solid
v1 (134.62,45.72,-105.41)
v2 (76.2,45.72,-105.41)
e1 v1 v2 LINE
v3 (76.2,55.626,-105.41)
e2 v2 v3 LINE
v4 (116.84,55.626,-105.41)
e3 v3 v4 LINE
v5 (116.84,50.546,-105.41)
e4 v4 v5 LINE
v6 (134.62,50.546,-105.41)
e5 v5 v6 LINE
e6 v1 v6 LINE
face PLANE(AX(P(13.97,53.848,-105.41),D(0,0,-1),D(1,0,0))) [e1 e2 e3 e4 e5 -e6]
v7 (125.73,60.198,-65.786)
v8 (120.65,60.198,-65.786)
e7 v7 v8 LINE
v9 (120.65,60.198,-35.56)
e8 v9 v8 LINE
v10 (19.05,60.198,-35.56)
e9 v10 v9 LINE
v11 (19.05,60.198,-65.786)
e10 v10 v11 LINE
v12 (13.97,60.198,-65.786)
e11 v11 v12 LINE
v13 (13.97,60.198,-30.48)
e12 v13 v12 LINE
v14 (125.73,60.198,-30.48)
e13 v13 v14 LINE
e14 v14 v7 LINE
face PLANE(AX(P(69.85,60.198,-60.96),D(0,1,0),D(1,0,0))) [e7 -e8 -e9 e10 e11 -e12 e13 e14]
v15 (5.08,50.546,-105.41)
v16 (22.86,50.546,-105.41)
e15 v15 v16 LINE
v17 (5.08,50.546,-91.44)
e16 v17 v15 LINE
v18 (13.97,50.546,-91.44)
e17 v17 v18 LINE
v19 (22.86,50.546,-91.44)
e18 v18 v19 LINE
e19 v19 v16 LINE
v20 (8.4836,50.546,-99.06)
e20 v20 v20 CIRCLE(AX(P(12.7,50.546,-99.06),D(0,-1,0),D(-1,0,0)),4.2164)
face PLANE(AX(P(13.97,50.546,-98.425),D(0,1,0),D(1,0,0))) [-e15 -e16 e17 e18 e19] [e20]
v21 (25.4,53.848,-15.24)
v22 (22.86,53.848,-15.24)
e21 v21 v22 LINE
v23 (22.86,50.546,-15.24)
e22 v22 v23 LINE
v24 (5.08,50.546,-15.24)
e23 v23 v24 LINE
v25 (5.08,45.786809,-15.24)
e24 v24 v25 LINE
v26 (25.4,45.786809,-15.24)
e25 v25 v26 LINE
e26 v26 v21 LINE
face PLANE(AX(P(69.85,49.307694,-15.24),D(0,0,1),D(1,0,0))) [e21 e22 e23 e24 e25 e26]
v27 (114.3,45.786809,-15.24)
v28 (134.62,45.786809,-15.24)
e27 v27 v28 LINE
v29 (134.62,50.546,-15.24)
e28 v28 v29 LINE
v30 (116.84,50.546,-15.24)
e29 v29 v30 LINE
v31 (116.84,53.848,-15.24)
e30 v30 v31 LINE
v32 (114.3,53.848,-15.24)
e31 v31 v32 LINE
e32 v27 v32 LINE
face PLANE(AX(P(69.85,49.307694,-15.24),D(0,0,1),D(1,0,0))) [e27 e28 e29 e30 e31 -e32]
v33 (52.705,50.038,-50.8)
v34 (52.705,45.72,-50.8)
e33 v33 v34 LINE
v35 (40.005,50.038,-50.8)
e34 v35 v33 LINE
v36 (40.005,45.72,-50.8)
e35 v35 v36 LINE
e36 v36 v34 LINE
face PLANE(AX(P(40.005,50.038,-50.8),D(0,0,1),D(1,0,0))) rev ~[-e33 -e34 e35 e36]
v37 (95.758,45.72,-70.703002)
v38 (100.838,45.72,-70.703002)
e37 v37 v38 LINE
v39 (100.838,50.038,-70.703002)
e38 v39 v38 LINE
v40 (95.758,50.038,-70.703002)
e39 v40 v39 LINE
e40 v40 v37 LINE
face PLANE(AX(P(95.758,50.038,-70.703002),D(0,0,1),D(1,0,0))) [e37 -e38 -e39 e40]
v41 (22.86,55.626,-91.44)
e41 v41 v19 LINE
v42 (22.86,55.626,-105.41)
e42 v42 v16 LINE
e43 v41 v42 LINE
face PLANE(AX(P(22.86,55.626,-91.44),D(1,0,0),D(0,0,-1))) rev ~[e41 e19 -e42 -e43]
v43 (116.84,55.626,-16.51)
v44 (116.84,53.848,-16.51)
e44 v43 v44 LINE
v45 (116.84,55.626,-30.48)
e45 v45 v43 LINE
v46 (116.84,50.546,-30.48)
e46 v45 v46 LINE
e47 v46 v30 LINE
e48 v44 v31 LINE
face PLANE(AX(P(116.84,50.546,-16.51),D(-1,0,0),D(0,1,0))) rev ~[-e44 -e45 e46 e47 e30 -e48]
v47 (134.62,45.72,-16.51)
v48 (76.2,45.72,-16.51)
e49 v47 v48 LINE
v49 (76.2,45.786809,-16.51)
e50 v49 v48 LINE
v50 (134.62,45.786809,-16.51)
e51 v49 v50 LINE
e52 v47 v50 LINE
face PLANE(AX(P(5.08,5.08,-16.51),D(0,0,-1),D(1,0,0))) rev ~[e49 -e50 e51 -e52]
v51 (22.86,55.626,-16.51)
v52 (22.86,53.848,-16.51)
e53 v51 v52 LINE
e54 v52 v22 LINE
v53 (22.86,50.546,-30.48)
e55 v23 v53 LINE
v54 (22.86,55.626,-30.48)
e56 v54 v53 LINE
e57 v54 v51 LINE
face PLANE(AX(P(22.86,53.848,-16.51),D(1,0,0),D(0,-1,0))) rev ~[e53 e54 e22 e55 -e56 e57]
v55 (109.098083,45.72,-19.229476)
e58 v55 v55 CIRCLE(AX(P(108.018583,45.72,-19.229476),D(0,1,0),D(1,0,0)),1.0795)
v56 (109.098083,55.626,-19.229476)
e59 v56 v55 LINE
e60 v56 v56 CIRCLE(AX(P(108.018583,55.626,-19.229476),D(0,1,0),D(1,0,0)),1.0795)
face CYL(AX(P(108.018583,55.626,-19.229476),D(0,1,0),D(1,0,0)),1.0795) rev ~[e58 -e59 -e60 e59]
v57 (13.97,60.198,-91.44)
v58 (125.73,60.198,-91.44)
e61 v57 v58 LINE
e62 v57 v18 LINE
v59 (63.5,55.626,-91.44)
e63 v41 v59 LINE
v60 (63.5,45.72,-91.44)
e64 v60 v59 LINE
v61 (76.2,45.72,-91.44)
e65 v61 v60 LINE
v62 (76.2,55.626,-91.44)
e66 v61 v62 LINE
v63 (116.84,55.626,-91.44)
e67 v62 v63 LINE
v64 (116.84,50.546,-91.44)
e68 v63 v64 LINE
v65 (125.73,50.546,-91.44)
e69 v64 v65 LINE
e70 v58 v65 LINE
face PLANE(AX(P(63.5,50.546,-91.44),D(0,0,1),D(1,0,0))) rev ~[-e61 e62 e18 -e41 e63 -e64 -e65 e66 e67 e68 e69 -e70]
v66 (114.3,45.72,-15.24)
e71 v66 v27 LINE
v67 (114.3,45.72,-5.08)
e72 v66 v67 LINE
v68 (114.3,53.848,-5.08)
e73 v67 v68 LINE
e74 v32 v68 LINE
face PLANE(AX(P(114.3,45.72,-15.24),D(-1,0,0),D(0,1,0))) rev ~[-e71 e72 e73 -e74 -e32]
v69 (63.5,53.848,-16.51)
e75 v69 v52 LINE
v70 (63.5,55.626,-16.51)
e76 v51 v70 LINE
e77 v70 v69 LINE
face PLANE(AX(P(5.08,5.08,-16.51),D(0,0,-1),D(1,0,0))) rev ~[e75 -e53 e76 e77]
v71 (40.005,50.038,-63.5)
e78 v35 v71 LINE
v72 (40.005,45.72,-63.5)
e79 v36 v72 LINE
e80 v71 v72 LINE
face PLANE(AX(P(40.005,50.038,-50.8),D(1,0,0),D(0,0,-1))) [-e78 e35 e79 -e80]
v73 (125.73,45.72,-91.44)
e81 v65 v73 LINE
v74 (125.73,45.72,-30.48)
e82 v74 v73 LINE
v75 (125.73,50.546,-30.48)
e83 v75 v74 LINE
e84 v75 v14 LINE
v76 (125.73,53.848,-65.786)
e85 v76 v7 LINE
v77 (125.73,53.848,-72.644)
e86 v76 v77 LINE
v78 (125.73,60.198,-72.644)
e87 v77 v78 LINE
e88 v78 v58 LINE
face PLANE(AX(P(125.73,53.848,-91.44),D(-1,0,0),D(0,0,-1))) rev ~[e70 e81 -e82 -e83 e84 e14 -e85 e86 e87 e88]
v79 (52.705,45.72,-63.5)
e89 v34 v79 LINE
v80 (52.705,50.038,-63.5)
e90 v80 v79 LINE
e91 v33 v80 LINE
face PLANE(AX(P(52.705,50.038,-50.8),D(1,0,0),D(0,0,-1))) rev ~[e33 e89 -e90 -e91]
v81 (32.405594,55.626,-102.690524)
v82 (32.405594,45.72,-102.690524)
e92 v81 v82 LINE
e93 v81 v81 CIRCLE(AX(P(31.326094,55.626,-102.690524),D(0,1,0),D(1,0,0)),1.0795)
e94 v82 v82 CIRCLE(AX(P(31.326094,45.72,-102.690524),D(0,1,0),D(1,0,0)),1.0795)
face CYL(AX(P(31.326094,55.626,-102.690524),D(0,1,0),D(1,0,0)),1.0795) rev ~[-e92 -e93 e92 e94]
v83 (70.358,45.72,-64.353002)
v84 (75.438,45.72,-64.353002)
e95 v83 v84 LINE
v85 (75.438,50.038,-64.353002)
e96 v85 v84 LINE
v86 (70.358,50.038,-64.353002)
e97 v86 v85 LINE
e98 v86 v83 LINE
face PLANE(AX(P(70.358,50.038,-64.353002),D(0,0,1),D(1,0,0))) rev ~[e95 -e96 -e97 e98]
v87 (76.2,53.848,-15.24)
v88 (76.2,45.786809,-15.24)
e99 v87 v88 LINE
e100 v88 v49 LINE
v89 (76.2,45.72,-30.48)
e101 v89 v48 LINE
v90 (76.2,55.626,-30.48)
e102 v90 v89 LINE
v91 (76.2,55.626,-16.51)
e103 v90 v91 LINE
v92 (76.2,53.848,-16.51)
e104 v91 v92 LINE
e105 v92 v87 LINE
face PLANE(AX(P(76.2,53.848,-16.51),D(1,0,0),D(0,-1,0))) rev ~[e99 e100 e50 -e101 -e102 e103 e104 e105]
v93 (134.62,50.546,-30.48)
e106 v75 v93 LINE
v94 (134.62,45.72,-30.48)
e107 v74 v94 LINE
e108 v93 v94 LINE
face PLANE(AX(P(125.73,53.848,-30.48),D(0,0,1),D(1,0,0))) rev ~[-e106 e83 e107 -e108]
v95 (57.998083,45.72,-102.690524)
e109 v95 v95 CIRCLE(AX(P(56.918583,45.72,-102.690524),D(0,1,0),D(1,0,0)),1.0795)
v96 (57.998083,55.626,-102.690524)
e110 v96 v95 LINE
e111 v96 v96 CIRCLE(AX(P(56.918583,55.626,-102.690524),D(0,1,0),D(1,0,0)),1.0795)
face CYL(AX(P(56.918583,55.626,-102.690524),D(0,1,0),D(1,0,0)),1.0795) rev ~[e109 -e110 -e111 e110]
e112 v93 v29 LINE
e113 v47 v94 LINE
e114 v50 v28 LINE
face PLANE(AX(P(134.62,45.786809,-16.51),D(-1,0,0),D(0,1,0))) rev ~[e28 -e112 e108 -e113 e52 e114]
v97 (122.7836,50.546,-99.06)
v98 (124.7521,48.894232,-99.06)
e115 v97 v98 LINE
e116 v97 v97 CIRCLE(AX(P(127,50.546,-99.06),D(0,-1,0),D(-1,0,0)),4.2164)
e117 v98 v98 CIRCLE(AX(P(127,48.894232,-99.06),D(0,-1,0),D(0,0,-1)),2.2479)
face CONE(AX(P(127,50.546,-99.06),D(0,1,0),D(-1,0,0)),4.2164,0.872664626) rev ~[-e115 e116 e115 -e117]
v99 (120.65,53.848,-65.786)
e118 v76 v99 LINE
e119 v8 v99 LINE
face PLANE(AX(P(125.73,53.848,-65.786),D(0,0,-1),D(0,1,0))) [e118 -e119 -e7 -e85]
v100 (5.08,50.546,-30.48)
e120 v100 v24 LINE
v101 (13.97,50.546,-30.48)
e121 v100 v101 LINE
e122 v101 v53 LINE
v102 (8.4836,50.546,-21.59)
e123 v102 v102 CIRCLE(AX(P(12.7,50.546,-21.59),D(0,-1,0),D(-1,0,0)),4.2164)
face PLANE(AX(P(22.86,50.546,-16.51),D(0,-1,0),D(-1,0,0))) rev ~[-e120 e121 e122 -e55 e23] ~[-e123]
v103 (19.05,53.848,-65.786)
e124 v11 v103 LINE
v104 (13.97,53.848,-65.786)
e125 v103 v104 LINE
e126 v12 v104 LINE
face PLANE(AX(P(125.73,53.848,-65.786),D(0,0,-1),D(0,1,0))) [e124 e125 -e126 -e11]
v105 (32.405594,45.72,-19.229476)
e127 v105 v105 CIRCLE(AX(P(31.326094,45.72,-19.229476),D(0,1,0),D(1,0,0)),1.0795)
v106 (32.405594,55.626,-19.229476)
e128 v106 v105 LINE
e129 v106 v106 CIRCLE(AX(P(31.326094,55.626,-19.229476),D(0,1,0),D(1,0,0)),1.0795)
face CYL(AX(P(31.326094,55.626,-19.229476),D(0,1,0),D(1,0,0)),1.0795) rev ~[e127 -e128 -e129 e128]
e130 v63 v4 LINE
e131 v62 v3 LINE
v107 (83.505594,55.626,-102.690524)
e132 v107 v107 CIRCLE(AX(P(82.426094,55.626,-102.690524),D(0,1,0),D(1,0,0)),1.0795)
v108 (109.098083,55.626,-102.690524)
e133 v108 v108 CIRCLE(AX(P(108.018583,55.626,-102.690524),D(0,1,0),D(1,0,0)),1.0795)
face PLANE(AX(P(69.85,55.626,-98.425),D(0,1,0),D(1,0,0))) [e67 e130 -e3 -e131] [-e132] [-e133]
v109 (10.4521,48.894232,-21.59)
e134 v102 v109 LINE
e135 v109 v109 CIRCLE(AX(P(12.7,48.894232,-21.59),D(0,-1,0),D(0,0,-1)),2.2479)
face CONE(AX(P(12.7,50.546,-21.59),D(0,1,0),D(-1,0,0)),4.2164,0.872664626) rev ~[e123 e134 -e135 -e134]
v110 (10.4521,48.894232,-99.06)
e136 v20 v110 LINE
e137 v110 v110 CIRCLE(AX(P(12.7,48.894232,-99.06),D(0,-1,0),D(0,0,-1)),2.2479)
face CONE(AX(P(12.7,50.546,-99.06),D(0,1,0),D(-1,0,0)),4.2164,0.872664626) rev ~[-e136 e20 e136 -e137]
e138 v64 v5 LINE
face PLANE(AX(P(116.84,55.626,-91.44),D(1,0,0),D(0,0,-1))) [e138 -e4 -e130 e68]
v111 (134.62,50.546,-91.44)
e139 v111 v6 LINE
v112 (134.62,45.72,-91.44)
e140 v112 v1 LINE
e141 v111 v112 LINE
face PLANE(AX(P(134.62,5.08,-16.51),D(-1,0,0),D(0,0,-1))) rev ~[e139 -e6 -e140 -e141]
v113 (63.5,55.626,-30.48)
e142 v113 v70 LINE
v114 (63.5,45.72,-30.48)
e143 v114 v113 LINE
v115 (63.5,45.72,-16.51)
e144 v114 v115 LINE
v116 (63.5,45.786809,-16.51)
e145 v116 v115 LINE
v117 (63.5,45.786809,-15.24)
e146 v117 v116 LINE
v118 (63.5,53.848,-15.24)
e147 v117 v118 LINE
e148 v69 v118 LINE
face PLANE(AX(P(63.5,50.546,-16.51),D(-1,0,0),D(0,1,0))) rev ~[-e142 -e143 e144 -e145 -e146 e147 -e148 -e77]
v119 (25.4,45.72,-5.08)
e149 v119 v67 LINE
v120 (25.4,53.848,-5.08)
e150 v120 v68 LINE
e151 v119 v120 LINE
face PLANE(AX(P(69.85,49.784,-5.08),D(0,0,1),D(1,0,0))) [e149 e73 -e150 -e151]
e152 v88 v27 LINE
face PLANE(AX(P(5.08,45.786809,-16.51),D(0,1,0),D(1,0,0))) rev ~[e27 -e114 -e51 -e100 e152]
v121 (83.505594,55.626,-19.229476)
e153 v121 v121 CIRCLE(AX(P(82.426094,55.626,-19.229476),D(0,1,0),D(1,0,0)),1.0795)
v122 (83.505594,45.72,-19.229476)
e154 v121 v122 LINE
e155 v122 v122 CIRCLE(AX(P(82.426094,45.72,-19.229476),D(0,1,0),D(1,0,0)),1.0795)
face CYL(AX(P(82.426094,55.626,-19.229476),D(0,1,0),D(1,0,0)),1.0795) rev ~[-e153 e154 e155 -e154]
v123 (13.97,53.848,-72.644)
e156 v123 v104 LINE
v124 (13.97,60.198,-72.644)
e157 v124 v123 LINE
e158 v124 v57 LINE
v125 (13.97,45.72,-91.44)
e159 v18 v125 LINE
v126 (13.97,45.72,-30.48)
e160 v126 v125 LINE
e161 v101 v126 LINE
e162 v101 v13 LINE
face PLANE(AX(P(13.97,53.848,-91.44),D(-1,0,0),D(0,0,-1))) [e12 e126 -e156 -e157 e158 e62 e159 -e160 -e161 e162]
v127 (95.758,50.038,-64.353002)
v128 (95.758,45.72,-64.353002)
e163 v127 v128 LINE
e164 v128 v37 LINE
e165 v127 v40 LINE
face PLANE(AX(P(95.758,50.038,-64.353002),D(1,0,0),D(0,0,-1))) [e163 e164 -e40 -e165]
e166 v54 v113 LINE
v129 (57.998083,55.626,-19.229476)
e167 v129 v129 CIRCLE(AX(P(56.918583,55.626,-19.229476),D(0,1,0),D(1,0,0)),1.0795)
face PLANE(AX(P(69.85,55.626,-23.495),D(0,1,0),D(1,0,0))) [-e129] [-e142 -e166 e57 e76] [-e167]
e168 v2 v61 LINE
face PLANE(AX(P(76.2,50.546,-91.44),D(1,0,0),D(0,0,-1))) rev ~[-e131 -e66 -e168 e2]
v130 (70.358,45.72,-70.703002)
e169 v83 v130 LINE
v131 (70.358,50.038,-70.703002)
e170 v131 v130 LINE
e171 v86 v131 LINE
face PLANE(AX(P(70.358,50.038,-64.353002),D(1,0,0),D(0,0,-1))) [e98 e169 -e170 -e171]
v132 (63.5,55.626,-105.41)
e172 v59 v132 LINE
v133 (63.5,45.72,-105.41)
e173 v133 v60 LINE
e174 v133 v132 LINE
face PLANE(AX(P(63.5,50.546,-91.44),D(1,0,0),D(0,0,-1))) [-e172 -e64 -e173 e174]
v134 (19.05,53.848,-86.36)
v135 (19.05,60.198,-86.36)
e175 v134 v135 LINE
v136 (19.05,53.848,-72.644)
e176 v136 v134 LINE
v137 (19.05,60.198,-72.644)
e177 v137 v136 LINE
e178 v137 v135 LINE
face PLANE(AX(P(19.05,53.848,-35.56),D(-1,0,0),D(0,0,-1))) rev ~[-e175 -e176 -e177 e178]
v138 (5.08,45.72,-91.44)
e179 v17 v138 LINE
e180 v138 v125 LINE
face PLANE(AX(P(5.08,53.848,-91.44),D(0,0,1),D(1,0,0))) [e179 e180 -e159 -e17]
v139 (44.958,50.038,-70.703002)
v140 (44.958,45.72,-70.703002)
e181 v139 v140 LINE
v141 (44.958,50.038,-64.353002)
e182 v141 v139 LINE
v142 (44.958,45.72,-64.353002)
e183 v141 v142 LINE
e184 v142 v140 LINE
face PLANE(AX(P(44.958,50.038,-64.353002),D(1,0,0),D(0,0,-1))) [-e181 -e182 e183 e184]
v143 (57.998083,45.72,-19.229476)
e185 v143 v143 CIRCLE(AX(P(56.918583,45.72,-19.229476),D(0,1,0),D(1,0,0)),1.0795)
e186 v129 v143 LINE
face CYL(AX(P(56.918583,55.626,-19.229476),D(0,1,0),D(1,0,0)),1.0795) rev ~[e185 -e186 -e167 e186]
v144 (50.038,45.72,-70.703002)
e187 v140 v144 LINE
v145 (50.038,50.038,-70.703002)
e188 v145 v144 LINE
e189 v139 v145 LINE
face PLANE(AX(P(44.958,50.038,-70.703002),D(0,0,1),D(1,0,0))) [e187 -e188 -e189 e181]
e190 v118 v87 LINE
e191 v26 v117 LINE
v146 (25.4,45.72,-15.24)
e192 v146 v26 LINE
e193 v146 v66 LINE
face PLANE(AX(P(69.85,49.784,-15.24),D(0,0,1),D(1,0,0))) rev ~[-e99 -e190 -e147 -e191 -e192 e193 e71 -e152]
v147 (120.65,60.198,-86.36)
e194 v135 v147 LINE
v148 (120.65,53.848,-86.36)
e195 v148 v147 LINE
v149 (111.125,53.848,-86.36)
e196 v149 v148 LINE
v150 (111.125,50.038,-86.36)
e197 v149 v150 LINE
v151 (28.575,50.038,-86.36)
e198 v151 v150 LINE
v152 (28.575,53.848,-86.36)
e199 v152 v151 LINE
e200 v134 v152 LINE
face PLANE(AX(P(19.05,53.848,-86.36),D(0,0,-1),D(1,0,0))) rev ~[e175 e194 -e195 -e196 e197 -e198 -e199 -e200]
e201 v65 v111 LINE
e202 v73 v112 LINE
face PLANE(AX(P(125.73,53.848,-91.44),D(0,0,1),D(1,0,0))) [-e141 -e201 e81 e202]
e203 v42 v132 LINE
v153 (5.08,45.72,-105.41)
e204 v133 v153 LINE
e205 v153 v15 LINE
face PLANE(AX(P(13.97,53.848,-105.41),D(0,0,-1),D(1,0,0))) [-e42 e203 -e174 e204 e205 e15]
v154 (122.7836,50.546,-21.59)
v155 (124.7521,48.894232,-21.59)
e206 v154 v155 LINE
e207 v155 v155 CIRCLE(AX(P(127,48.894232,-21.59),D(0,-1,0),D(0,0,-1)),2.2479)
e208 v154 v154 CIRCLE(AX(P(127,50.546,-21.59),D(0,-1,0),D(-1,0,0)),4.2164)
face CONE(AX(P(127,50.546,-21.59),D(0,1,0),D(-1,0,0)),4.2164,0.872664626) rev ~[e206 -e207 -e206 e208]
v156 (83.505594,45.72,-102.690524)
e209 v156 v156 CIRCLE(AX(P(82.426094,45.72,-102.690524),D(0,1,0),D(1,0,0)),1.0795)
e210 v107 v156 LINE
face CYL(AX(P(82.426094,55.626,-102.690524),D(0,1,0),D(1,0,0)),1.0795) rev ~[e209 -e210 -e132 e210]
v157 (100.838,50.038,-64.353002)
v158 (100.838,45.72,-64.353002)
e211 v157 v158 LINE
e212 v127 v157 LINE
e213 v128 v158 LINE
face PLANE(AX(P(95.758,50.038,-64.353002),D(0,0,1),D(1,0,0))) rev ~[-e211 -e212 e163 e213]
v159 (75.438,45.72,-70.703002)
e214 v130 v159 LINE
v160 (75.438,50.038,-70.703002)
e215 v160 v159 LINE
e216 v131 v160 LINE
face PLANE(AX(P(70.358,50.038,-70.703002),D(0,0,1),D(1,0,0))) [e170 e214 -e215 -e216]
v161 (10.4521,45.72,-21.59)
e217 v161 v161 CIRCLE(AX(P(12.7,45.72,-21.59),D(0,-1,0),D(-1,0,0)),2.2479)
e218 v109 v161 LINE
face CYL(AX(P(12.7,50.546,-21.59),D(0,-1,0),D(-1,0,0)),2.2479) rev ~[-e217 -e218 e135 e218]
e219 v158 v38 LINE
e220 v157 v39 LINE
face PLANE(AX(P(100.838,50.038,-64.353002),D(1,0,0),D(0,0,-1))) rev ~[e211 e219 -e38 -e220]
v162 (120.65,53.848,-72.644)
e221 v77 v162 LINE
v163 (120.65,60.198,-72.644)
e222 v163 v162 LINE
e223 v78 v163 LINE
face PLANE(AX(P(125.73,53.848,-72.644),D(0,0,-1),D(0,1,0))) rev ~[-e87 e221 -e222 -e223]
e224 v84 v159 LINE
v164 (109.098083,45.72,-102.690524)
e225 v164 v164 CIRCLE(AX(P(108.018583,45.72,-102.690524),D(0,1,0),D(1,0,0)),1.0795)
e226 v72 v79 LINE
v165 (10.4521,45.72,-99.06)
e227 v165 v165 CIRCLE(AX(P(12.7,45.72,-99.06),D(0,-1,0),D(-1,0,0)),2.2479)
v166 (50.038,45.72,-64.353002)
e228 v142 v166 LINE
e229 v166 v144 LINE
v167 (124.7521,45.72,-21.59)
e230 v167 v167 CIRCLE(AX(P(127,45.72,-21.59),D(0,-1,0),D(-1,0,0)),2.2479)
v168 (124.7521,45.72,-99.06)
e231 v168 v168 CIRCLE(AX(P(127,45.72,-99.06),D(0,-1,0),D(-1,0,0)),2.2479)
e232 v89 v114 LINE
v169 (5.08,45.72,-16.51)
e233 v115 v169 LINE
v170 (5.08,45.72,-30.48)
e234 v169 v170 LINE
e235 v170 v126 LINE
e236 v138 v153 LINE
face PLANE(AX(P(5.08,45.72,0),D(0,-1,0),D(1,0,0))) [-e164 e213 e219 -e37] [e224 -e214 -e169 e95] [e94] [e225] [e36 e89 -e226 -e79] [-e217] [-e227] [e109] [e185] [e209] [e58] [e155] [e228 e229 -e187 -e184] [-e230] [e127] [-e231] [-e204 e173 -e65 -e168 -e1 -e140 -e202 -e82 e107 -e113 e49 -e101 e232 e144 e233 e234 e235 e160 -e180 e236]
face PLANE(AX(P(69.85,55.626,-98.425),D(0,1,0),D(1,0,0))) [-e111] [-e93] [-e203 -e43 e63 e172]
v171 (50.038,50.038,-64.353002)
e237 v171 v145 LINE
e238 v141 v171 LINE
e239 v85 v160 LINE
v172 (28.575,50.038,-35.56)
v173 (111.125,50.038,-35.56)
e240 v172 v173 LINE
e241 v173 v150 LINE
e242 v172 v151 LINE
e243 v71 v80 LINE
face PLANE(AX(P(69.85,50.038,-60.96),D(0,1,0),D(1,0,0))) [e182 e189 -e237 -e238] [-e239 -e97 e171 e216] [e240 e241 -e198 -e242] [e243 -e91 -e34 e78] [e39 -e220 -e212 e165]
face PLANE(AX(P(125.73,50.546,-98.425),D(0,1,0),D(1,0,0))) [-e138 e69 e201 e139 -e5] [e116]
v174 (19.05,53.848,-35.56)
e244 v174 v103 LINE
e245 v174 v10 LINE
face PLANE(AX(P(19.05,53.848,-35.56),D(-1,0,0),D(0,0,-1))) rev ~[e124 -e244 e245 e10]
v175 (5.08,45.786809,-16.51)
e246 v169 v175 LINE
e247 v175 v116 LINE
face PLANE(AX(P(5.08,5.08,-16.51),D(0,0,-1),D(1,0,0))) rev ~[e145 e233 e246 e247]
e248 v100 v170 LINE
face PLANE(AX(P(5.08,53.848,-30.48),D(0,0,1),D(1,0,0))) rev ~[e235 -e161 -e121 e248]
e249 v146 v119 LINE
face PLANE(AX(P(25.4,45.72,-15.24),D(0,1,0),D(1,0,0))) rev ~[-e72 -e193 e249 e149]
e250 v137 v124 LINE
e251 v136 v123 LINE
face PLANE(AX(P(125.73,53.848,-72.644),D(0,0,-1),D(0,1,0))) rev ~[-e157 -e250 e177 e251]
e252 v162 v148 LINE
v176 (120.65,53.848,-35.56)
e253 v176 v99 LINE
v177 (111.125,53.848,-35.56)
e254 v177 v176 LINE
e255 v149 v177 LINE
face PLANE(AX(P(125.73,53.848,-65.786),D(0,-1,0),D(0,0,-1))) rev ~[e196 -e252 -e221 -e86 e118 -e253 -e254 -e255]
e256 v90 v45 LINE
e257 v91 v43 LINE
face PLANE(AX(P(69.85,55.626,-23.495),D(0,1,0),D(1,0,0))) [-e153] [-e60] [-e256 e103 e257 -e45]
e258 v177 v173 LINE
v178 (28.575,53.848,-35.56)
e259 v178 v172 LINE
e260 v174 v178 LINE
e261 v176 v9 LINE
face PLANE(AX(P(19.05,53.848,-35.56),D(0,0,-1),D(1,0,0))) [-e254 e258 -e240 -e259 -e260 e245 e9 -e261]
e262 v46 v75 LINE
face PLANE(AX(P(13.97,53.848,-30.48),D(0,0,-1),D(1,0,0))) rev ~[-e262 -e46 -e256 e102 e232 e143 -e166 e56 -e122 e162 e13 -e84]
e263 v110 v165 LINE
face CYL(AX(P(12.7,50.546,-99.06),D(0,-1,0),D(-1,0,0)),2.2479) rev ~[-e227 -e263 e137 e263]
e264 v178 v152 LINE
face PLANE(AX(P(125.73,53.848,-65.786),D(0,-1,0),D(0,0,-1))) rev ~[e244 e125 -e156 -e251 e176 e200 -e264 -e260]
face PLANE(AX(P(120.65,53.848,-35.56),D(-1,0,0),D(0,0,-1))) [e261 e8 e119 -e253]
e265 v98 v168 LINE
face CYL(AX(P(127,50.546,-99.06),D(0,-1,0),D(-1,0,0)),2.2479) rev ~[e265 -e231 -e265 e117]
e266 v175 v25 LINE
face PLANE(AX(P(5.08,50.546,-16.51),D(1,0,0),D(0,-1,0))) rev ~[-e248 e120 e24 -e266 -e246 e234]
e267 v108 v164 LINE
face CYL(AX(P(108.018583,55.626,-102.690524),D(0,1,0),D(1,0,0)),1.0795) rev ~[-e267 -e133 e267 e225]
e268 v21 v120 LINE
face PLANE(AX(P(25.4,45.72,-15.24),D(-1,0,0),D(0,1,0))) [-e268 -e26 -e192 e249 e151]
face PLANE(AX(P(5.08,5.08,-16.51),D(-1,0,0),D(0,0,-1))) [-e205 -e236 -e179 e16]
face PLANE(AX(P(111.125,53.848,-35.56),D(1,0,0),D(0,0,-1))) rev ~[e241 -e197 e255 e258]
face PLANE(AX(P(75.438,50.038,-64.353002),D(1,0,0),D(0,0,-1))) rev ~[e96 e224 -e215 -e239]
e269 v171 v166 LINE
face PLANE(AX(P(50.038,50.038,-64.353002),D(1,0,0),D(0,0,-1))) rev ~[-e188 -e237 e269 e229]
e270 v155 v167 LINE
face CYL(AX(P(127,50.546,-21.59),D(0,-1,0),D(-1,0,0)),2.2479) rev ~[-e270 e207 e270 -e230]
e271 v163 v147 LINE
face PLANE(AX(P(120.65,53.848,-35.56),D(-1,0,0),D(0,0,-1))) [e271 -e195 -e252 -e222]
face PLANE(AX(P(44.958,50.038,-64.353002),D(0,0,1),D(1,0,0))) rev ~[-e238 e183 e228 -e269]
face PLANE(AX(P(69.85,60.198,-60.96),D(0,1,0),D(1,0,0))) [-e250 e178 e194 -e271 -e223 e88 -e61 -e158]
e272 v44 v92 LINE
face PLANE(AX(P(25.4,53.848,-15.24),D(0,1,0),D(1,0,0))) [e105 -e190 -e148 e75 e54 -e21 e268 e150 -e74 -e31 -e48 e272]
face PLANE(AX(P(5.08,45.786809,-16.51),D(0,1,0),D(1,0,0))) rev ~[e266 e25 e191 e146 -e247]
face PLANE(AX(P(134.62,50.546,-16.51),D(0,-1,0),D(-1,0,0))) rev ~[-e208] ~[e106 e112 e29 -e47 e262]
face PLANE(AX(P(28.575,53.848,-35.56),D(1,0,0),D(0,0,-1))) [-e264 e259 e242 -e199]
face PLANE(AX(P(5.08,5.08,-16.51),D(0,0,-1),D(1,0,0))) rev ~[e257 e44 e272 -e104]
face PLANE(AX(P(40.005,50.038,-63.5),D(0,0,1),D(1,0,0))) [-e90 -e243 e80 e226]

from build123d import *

# Parameters (mm, degrees)
SKETCH5_W                                         = 129.54
SKETCH5_H                                         = 88.9
BUTTON_SUPPORT_DEPTH                              = 48.768
SKETCH6_W                                         = 111.76
SKETCH6_H                                         = 60.96
SKETCH6_W_2                                       = 101.6
SKETCH6_H_2                                       = 50.8
BOSS_EXTRUDE4_DEPTH                               = 6.35
SKETCH7_W                                         = 82.55
SKETCH7_H                                         = 50.8
FORCE_SENSOR_CUTOUT_DEPTH                         = 3.81
SKETCH4_W                                         = 129.54
SKETCH4_H                                         = 40.64
BOTTOM_CUT_DEPTH                                  = 139.7
SKETCH25_W                                        = 111.76
SKETCH25_H                                        = 13.97
NEOPIXEL_LIFT_DEPTH                               = 1.778
SKETCH8_W                                         = 5.08
SKETCH8_H                                         = 6.35
HAPTIC_WIRE_HOLES_DEPTH                           = 4.318
SKETCH9_W                                         = 12.7
SKETCH9_H                                         = 12.7
FORCE_SENSOR_HOLE_DEPTH                           = 4.318
SKETCH10_R                                        = 1.0795
NEOPIXEL_HOLES_DEPTH                              = 9.906
NEOPIXEL_WIRE_SIDE_HOLES_REACH                    = 10.128
SKETCH18_W                                        = 8.89
SKETCH18_H                                        = 60.96
SKETCH19_W                                        = 12.7
SKETCH19_H                                        = 13.97
SKETCH19_W_2                                      = 17.78
NEOPIXEL_SOLDER_GAP_DEPTH                         = 5.08
BOSS_EXTRUDE6_DEPTH                               = 1.27
SKETCH11_W                                        = 88.9
SKETCH11_H                                        = 8.128
BOSS_EXTRUDE5_DEPTH                               = 10.16
CSK_FOR_8_FLAT_HEAD_MACHINE_SCREW_100_D           = 4.4958
CSK_FOR_8_FLAT_HEAD_MACHINE_SCREW_100_CSINK_D     = 8.4328
CSK_FOR_8_FLAT_HEAD_MACHINE_SCREW_100_CSINK_ANGLE = 100
SKETCH23_W                                        = 12.7
SKETCH23_H                                        = 13.97
SKETCH23_H_2                                      = 15.24
CUT_EXTRUDE1_DEPTH                                = 5.826
SKETCH24_W                                        = 6.858
SKETCH24_H                                        = 6.35
CUT_EXTRUDE2_DEPTH                                = 121.65


with BuildPart() as part:
    # Sketch5 → Button Support (new body)
    with BuildSketch(Plane(origin=(0, 5.08, 0), x_dir=(1, 0, 0), z_dir=(0, 1, 0))):
        with Locations((69.85, 60.96)):
            Rectangle(SKETCH5_W, SKETCH5_H)
    extrude(amount=BUTTON_SUPPORT_DEPTH)

    # Sketch6 → Boss-Extrude4 (add)
    with BuildSketch(Plane(origin=(0, 53.848, 0), x_dir=(1, 0, 0), z_dir=(0, 1, 0))):
        with Locations((69.85, 60.96)):
            Rectangle(SKETCH6_W, SKETCH6_H)
        with Locations((69.85, 60.96)):
            Rectangle(SKETCH6_W_2, SKETCH6_H_2, mode=Mode.SUBTRACT)
    extrude(amount=BOSS_EXTRUDE4_DEPTH)

    # Sketch7 → Force Sensor Cutout (cut)
    with BuildSketch(Plane(origin=(0, 53.848, 0), x_dir=(1, 0, 0), z_dir=(0, 1, 0))):
        with Locations((69.85, 60.96)):
            Rectangle(SKETCH7_W, SKETCH7_H)
    extrude(amount=-FORCE_SENSOR_CUTOUT_DEPTH, mode=Mode.SUBTRACT)

    # Sketch4 → Bottom Cut (cut)
    with BuildSketch(Plane.XY):
        with Locations((69.85, 25.4)):
            Rectangle(SKETCH4_W, SKETCH4_H)
    extrude(amount=-BOTTOM_CUT_DEPTH, mode=Mode.SUBTRACT)

    # Sketch25 → NeoPixel Lift (add)
    with BuildSketch(Plane(origin=(0, 53.848, 0), x_dir=(1, 0, 0), z_dir=(0, 1, 0))):
        with Locations((69.85, 98.425)):
            Rectangle(SKETCH25_W, SKETCH25_H)
        with Locations((69.85, 23.495)):
            Rectangle(SKETCH25_W, SKETCH25_H)
    extrude(amount=NEOPIXEL_LIFT_DEPTH)

    # Sketch8 → Haptic Wire Holes (cut)
    with BuildSketch(Plane(origin=(0, 50.038, 0), x_dir=(1, 0, 0), z_dir=(0, 1, 0))):
        with Locations((72.898, 67.528002358)):
            Rectangle(SKETCH8_W, SKETCH8_H)
        with Locations((98.298, 67.528002358)):
            Rectangle(SKETCH8_W, SKETCH8_H)
        with Locations((47.498, 67.528002358)):
            Rectangle(SKETCH8_W, SKETCH8_H)
    extrude(amount=-HAPTIC_WIRE_HOLES_DEPTH, mode=Mode.SUBTRACT)

    # Sketch9 → Force Sensor Hole (cut)
    with BuildSketch(Plane(origin=(0, 50.038, 0), x_dir=(1, 0, 0), z_dir=(0, 1, 0))):
        with Locations((46.355, 57.15)):
            Rectangle(SKETCH9_W, SKETCH9_H)
    extrude(amount=-FORCE_SENSOR_HOLE_DEPTH, mode=Mode.SUBTRACT)

    # Sketch10 → NeoPixel Holes (cut)
    with BuildSketch(Plane(origin=(0, 55.626, 0), x_dir=(1, 0, 0), z_dir=(0, 1, 0))):
        with Locations((108.018583302, 19.2294764)):
            Circle(SKETCH10_R)
        with Locations((82.42609372, 19.2294764)):
            Circle(SKETCH10_R)
        with Locations((56.918583394, 19.2294764)):
            Circle(SKETCH10_R)
        with Locations((31.326093812, 19.2294764)):
            Circle(SKETCH10_R)
        with Locations((31.326093812, 102.6905236)):
            Circle(SKETCH10_R)
        with Locations((56.918583394, 102.6905236)):
            Circle(SKETCH10_R)
        with Locations((82.42609372, 102.6905236)):
            Circle(SKETCH10_R)
        with Locations((108.018583302, 102.6905236)):
            Circle(SKETCH10_R)
    extrude(amount=-NEOPIXEL_HOLES_DEPTH, mode=Mode.SUBTRACT)

    # Sketch18 → Neopixel Wire Side Holes (cut, up to next)
    with BuildSketch(Plane(origin=(0, 53.848, 0), x_dir=(1, 0, 0), z_dir=(0, 1, 0)), mode=Mode.PRIVATE) as neopixel_wire_side_holes_sk1:
        with Locations((130.175, 60.96)):
            Rectangle(SKETCH18_W, SKETCH18_H)
    neopixel_wire_side_holes_tool1 = extrude(neopixel_wire_side_holes_sk1.sketch, amount=-NEOPIXEL_WIRE_SIDE_HOLES_REACH, mode=Mode.PRIVATE) & part.part
    add(neopixel_wire_side_holes_tool1.solids().sort_by_distance((130.175, 53.848, -60.96))[0], mode=Mode.SUBTRACT)
    # Sketch18 → Neopixel Wire Side Holes (cut, up to next)
    with BuildSketch(Plane(origin=(0, 53.848, 0), x_dir=(1, 0, 0), z_dir=(0, 1, 0)), mode=Mode.PRIVATE) as neopixel_wire_side_holes_sk2:
        with Locations((9.525, 60.96)):
            Rectangle(SKETCH18_W, SKETCH18_H)
    neopixel_wire_side_holes_tool2 = extrude(neopixel_wire_side_holes_sk2.sketch, amount=-NEOPIXEL_WIRE_SIDE_HOLES_REACH, mode=Mode.PRIVATE) & part.part
    add(neopixel_wire_side_holes_tool2.solids().sort_by_distance((9.525, 53.848, -60.96))[0], mode=Mode.SUBTRACT)

    # Sketch19 → NeoPixel solder gap (cut)
    with BuildSketch(Plane(origin=(0, 55.626, 0), x_dir=(1, 0, 0), z_dir=(0, 1, 0))):
        with Locations((69.85, 98.425)):
            Rectangle(SKETCH19_W, SKETCH19_H)
        with Locations((13.97, 98.425)):
            Rectangle(SKETCH19_W_2, SKETCH19_H)
        with Locations((125.73, 98.425)):
            Rectangle(SKETCH19_W_2, SKETCH19_H)
    neopixel_solder_gap = extrude(amount=-NEOPIXEL_SOLDER_GAP_DEPTH, mode=Mode.SUBTRACT)

    # Mirror1: NeoPixel solder gap across plane
    add(neopixel_solder_gap.mirror(Plane.XY.offset(-60.96)), mode=Mode.SUBTRACT)

    # Sketch20 → Boss-Extrude6 (add)
    with BuildSketch(Plane.XY.offset(-16.51)):
        Polygon((22.86, 50.546), (5.08, 50.546), (5.08, 45.786808958), (134.62, 45.786808958), (134.62, 50.546), (116.84, 50.546), (116.84, 53.848), (76.2, 53.848), (76.2, 50.546), (63.5, 50.546), (63.5, 53.848), (22.86, 53.848), align=None)
    extrude(amount=BOSS_EXTRUDE6_DEPTH)

    # Sketch11 → Boss-Extrude5 (add)
    with BuildSketch(Plane.XY.offset(-15.24)):
        with Locations((69.85, 49.784)):
            Rectangle(SKETCH11_W, SKETCH11_H)
    extrude(amount=BOSS_EXTRUDE5_DEPTH)

    # CSK for #8 Flat Head Machine Screw (100)1 (through all)
    with Locations(Plane(origin=(0, 50.546, 0), x_dir=(1, 0, 0), z_dir=(0, 1, 0))):
        with Locations((12.7, 99.06), (127, 99.06), (127, 21.59), (12.7, 21.59)):
            CounterSinkHole(CSK_FOR_8_FLAT_HEAD_MACHINE_SCREW_100_D / 2, CSK_FOR_8_FLAT_HEAD_MACHINE_SCREW_100_CSINK_D / 2, counter_sink_angle=CSK_FOR_8_FLAT_HEAD_MACHINE_SCREW_100_CSINK_ANGLE)

    # Sketch23 → Cut-Extrude1 (cut, through all)
    with BuildSketch(Plane(origin=(0, 50.546, 0), x_dir=(1, 0, 0), z_dir=(0, 1, 0))):
        with Locations((69.85, 98.425)):
            Rectangle(SKETCH23_W, SKETCH23_H)
        with Locations((69.85, 22.86)):
            Rectangle(SKETCH23_W, SKETCH23_H_2)
    extrude(amount=-CUT_EXTRUDE1_DEPTH, mode=Mode.SUBTRACT)

    # Sketch24 → Cut-Extrude2 (cut, through all)
    with BuildSketch(Plane(origin=(125.73, 0, 0), x_dir=(0, 0, -1), z_dir=(1, 0, 0))):
        with Locations((69.215, 57.023)):
            Rectangle(SKETCH24_W, SKETCH24_H)
    extrude(amount=-CUT_EXTRUDE2_DEPTH, mode=Mode.SUBTRACT)


solid = part.part
